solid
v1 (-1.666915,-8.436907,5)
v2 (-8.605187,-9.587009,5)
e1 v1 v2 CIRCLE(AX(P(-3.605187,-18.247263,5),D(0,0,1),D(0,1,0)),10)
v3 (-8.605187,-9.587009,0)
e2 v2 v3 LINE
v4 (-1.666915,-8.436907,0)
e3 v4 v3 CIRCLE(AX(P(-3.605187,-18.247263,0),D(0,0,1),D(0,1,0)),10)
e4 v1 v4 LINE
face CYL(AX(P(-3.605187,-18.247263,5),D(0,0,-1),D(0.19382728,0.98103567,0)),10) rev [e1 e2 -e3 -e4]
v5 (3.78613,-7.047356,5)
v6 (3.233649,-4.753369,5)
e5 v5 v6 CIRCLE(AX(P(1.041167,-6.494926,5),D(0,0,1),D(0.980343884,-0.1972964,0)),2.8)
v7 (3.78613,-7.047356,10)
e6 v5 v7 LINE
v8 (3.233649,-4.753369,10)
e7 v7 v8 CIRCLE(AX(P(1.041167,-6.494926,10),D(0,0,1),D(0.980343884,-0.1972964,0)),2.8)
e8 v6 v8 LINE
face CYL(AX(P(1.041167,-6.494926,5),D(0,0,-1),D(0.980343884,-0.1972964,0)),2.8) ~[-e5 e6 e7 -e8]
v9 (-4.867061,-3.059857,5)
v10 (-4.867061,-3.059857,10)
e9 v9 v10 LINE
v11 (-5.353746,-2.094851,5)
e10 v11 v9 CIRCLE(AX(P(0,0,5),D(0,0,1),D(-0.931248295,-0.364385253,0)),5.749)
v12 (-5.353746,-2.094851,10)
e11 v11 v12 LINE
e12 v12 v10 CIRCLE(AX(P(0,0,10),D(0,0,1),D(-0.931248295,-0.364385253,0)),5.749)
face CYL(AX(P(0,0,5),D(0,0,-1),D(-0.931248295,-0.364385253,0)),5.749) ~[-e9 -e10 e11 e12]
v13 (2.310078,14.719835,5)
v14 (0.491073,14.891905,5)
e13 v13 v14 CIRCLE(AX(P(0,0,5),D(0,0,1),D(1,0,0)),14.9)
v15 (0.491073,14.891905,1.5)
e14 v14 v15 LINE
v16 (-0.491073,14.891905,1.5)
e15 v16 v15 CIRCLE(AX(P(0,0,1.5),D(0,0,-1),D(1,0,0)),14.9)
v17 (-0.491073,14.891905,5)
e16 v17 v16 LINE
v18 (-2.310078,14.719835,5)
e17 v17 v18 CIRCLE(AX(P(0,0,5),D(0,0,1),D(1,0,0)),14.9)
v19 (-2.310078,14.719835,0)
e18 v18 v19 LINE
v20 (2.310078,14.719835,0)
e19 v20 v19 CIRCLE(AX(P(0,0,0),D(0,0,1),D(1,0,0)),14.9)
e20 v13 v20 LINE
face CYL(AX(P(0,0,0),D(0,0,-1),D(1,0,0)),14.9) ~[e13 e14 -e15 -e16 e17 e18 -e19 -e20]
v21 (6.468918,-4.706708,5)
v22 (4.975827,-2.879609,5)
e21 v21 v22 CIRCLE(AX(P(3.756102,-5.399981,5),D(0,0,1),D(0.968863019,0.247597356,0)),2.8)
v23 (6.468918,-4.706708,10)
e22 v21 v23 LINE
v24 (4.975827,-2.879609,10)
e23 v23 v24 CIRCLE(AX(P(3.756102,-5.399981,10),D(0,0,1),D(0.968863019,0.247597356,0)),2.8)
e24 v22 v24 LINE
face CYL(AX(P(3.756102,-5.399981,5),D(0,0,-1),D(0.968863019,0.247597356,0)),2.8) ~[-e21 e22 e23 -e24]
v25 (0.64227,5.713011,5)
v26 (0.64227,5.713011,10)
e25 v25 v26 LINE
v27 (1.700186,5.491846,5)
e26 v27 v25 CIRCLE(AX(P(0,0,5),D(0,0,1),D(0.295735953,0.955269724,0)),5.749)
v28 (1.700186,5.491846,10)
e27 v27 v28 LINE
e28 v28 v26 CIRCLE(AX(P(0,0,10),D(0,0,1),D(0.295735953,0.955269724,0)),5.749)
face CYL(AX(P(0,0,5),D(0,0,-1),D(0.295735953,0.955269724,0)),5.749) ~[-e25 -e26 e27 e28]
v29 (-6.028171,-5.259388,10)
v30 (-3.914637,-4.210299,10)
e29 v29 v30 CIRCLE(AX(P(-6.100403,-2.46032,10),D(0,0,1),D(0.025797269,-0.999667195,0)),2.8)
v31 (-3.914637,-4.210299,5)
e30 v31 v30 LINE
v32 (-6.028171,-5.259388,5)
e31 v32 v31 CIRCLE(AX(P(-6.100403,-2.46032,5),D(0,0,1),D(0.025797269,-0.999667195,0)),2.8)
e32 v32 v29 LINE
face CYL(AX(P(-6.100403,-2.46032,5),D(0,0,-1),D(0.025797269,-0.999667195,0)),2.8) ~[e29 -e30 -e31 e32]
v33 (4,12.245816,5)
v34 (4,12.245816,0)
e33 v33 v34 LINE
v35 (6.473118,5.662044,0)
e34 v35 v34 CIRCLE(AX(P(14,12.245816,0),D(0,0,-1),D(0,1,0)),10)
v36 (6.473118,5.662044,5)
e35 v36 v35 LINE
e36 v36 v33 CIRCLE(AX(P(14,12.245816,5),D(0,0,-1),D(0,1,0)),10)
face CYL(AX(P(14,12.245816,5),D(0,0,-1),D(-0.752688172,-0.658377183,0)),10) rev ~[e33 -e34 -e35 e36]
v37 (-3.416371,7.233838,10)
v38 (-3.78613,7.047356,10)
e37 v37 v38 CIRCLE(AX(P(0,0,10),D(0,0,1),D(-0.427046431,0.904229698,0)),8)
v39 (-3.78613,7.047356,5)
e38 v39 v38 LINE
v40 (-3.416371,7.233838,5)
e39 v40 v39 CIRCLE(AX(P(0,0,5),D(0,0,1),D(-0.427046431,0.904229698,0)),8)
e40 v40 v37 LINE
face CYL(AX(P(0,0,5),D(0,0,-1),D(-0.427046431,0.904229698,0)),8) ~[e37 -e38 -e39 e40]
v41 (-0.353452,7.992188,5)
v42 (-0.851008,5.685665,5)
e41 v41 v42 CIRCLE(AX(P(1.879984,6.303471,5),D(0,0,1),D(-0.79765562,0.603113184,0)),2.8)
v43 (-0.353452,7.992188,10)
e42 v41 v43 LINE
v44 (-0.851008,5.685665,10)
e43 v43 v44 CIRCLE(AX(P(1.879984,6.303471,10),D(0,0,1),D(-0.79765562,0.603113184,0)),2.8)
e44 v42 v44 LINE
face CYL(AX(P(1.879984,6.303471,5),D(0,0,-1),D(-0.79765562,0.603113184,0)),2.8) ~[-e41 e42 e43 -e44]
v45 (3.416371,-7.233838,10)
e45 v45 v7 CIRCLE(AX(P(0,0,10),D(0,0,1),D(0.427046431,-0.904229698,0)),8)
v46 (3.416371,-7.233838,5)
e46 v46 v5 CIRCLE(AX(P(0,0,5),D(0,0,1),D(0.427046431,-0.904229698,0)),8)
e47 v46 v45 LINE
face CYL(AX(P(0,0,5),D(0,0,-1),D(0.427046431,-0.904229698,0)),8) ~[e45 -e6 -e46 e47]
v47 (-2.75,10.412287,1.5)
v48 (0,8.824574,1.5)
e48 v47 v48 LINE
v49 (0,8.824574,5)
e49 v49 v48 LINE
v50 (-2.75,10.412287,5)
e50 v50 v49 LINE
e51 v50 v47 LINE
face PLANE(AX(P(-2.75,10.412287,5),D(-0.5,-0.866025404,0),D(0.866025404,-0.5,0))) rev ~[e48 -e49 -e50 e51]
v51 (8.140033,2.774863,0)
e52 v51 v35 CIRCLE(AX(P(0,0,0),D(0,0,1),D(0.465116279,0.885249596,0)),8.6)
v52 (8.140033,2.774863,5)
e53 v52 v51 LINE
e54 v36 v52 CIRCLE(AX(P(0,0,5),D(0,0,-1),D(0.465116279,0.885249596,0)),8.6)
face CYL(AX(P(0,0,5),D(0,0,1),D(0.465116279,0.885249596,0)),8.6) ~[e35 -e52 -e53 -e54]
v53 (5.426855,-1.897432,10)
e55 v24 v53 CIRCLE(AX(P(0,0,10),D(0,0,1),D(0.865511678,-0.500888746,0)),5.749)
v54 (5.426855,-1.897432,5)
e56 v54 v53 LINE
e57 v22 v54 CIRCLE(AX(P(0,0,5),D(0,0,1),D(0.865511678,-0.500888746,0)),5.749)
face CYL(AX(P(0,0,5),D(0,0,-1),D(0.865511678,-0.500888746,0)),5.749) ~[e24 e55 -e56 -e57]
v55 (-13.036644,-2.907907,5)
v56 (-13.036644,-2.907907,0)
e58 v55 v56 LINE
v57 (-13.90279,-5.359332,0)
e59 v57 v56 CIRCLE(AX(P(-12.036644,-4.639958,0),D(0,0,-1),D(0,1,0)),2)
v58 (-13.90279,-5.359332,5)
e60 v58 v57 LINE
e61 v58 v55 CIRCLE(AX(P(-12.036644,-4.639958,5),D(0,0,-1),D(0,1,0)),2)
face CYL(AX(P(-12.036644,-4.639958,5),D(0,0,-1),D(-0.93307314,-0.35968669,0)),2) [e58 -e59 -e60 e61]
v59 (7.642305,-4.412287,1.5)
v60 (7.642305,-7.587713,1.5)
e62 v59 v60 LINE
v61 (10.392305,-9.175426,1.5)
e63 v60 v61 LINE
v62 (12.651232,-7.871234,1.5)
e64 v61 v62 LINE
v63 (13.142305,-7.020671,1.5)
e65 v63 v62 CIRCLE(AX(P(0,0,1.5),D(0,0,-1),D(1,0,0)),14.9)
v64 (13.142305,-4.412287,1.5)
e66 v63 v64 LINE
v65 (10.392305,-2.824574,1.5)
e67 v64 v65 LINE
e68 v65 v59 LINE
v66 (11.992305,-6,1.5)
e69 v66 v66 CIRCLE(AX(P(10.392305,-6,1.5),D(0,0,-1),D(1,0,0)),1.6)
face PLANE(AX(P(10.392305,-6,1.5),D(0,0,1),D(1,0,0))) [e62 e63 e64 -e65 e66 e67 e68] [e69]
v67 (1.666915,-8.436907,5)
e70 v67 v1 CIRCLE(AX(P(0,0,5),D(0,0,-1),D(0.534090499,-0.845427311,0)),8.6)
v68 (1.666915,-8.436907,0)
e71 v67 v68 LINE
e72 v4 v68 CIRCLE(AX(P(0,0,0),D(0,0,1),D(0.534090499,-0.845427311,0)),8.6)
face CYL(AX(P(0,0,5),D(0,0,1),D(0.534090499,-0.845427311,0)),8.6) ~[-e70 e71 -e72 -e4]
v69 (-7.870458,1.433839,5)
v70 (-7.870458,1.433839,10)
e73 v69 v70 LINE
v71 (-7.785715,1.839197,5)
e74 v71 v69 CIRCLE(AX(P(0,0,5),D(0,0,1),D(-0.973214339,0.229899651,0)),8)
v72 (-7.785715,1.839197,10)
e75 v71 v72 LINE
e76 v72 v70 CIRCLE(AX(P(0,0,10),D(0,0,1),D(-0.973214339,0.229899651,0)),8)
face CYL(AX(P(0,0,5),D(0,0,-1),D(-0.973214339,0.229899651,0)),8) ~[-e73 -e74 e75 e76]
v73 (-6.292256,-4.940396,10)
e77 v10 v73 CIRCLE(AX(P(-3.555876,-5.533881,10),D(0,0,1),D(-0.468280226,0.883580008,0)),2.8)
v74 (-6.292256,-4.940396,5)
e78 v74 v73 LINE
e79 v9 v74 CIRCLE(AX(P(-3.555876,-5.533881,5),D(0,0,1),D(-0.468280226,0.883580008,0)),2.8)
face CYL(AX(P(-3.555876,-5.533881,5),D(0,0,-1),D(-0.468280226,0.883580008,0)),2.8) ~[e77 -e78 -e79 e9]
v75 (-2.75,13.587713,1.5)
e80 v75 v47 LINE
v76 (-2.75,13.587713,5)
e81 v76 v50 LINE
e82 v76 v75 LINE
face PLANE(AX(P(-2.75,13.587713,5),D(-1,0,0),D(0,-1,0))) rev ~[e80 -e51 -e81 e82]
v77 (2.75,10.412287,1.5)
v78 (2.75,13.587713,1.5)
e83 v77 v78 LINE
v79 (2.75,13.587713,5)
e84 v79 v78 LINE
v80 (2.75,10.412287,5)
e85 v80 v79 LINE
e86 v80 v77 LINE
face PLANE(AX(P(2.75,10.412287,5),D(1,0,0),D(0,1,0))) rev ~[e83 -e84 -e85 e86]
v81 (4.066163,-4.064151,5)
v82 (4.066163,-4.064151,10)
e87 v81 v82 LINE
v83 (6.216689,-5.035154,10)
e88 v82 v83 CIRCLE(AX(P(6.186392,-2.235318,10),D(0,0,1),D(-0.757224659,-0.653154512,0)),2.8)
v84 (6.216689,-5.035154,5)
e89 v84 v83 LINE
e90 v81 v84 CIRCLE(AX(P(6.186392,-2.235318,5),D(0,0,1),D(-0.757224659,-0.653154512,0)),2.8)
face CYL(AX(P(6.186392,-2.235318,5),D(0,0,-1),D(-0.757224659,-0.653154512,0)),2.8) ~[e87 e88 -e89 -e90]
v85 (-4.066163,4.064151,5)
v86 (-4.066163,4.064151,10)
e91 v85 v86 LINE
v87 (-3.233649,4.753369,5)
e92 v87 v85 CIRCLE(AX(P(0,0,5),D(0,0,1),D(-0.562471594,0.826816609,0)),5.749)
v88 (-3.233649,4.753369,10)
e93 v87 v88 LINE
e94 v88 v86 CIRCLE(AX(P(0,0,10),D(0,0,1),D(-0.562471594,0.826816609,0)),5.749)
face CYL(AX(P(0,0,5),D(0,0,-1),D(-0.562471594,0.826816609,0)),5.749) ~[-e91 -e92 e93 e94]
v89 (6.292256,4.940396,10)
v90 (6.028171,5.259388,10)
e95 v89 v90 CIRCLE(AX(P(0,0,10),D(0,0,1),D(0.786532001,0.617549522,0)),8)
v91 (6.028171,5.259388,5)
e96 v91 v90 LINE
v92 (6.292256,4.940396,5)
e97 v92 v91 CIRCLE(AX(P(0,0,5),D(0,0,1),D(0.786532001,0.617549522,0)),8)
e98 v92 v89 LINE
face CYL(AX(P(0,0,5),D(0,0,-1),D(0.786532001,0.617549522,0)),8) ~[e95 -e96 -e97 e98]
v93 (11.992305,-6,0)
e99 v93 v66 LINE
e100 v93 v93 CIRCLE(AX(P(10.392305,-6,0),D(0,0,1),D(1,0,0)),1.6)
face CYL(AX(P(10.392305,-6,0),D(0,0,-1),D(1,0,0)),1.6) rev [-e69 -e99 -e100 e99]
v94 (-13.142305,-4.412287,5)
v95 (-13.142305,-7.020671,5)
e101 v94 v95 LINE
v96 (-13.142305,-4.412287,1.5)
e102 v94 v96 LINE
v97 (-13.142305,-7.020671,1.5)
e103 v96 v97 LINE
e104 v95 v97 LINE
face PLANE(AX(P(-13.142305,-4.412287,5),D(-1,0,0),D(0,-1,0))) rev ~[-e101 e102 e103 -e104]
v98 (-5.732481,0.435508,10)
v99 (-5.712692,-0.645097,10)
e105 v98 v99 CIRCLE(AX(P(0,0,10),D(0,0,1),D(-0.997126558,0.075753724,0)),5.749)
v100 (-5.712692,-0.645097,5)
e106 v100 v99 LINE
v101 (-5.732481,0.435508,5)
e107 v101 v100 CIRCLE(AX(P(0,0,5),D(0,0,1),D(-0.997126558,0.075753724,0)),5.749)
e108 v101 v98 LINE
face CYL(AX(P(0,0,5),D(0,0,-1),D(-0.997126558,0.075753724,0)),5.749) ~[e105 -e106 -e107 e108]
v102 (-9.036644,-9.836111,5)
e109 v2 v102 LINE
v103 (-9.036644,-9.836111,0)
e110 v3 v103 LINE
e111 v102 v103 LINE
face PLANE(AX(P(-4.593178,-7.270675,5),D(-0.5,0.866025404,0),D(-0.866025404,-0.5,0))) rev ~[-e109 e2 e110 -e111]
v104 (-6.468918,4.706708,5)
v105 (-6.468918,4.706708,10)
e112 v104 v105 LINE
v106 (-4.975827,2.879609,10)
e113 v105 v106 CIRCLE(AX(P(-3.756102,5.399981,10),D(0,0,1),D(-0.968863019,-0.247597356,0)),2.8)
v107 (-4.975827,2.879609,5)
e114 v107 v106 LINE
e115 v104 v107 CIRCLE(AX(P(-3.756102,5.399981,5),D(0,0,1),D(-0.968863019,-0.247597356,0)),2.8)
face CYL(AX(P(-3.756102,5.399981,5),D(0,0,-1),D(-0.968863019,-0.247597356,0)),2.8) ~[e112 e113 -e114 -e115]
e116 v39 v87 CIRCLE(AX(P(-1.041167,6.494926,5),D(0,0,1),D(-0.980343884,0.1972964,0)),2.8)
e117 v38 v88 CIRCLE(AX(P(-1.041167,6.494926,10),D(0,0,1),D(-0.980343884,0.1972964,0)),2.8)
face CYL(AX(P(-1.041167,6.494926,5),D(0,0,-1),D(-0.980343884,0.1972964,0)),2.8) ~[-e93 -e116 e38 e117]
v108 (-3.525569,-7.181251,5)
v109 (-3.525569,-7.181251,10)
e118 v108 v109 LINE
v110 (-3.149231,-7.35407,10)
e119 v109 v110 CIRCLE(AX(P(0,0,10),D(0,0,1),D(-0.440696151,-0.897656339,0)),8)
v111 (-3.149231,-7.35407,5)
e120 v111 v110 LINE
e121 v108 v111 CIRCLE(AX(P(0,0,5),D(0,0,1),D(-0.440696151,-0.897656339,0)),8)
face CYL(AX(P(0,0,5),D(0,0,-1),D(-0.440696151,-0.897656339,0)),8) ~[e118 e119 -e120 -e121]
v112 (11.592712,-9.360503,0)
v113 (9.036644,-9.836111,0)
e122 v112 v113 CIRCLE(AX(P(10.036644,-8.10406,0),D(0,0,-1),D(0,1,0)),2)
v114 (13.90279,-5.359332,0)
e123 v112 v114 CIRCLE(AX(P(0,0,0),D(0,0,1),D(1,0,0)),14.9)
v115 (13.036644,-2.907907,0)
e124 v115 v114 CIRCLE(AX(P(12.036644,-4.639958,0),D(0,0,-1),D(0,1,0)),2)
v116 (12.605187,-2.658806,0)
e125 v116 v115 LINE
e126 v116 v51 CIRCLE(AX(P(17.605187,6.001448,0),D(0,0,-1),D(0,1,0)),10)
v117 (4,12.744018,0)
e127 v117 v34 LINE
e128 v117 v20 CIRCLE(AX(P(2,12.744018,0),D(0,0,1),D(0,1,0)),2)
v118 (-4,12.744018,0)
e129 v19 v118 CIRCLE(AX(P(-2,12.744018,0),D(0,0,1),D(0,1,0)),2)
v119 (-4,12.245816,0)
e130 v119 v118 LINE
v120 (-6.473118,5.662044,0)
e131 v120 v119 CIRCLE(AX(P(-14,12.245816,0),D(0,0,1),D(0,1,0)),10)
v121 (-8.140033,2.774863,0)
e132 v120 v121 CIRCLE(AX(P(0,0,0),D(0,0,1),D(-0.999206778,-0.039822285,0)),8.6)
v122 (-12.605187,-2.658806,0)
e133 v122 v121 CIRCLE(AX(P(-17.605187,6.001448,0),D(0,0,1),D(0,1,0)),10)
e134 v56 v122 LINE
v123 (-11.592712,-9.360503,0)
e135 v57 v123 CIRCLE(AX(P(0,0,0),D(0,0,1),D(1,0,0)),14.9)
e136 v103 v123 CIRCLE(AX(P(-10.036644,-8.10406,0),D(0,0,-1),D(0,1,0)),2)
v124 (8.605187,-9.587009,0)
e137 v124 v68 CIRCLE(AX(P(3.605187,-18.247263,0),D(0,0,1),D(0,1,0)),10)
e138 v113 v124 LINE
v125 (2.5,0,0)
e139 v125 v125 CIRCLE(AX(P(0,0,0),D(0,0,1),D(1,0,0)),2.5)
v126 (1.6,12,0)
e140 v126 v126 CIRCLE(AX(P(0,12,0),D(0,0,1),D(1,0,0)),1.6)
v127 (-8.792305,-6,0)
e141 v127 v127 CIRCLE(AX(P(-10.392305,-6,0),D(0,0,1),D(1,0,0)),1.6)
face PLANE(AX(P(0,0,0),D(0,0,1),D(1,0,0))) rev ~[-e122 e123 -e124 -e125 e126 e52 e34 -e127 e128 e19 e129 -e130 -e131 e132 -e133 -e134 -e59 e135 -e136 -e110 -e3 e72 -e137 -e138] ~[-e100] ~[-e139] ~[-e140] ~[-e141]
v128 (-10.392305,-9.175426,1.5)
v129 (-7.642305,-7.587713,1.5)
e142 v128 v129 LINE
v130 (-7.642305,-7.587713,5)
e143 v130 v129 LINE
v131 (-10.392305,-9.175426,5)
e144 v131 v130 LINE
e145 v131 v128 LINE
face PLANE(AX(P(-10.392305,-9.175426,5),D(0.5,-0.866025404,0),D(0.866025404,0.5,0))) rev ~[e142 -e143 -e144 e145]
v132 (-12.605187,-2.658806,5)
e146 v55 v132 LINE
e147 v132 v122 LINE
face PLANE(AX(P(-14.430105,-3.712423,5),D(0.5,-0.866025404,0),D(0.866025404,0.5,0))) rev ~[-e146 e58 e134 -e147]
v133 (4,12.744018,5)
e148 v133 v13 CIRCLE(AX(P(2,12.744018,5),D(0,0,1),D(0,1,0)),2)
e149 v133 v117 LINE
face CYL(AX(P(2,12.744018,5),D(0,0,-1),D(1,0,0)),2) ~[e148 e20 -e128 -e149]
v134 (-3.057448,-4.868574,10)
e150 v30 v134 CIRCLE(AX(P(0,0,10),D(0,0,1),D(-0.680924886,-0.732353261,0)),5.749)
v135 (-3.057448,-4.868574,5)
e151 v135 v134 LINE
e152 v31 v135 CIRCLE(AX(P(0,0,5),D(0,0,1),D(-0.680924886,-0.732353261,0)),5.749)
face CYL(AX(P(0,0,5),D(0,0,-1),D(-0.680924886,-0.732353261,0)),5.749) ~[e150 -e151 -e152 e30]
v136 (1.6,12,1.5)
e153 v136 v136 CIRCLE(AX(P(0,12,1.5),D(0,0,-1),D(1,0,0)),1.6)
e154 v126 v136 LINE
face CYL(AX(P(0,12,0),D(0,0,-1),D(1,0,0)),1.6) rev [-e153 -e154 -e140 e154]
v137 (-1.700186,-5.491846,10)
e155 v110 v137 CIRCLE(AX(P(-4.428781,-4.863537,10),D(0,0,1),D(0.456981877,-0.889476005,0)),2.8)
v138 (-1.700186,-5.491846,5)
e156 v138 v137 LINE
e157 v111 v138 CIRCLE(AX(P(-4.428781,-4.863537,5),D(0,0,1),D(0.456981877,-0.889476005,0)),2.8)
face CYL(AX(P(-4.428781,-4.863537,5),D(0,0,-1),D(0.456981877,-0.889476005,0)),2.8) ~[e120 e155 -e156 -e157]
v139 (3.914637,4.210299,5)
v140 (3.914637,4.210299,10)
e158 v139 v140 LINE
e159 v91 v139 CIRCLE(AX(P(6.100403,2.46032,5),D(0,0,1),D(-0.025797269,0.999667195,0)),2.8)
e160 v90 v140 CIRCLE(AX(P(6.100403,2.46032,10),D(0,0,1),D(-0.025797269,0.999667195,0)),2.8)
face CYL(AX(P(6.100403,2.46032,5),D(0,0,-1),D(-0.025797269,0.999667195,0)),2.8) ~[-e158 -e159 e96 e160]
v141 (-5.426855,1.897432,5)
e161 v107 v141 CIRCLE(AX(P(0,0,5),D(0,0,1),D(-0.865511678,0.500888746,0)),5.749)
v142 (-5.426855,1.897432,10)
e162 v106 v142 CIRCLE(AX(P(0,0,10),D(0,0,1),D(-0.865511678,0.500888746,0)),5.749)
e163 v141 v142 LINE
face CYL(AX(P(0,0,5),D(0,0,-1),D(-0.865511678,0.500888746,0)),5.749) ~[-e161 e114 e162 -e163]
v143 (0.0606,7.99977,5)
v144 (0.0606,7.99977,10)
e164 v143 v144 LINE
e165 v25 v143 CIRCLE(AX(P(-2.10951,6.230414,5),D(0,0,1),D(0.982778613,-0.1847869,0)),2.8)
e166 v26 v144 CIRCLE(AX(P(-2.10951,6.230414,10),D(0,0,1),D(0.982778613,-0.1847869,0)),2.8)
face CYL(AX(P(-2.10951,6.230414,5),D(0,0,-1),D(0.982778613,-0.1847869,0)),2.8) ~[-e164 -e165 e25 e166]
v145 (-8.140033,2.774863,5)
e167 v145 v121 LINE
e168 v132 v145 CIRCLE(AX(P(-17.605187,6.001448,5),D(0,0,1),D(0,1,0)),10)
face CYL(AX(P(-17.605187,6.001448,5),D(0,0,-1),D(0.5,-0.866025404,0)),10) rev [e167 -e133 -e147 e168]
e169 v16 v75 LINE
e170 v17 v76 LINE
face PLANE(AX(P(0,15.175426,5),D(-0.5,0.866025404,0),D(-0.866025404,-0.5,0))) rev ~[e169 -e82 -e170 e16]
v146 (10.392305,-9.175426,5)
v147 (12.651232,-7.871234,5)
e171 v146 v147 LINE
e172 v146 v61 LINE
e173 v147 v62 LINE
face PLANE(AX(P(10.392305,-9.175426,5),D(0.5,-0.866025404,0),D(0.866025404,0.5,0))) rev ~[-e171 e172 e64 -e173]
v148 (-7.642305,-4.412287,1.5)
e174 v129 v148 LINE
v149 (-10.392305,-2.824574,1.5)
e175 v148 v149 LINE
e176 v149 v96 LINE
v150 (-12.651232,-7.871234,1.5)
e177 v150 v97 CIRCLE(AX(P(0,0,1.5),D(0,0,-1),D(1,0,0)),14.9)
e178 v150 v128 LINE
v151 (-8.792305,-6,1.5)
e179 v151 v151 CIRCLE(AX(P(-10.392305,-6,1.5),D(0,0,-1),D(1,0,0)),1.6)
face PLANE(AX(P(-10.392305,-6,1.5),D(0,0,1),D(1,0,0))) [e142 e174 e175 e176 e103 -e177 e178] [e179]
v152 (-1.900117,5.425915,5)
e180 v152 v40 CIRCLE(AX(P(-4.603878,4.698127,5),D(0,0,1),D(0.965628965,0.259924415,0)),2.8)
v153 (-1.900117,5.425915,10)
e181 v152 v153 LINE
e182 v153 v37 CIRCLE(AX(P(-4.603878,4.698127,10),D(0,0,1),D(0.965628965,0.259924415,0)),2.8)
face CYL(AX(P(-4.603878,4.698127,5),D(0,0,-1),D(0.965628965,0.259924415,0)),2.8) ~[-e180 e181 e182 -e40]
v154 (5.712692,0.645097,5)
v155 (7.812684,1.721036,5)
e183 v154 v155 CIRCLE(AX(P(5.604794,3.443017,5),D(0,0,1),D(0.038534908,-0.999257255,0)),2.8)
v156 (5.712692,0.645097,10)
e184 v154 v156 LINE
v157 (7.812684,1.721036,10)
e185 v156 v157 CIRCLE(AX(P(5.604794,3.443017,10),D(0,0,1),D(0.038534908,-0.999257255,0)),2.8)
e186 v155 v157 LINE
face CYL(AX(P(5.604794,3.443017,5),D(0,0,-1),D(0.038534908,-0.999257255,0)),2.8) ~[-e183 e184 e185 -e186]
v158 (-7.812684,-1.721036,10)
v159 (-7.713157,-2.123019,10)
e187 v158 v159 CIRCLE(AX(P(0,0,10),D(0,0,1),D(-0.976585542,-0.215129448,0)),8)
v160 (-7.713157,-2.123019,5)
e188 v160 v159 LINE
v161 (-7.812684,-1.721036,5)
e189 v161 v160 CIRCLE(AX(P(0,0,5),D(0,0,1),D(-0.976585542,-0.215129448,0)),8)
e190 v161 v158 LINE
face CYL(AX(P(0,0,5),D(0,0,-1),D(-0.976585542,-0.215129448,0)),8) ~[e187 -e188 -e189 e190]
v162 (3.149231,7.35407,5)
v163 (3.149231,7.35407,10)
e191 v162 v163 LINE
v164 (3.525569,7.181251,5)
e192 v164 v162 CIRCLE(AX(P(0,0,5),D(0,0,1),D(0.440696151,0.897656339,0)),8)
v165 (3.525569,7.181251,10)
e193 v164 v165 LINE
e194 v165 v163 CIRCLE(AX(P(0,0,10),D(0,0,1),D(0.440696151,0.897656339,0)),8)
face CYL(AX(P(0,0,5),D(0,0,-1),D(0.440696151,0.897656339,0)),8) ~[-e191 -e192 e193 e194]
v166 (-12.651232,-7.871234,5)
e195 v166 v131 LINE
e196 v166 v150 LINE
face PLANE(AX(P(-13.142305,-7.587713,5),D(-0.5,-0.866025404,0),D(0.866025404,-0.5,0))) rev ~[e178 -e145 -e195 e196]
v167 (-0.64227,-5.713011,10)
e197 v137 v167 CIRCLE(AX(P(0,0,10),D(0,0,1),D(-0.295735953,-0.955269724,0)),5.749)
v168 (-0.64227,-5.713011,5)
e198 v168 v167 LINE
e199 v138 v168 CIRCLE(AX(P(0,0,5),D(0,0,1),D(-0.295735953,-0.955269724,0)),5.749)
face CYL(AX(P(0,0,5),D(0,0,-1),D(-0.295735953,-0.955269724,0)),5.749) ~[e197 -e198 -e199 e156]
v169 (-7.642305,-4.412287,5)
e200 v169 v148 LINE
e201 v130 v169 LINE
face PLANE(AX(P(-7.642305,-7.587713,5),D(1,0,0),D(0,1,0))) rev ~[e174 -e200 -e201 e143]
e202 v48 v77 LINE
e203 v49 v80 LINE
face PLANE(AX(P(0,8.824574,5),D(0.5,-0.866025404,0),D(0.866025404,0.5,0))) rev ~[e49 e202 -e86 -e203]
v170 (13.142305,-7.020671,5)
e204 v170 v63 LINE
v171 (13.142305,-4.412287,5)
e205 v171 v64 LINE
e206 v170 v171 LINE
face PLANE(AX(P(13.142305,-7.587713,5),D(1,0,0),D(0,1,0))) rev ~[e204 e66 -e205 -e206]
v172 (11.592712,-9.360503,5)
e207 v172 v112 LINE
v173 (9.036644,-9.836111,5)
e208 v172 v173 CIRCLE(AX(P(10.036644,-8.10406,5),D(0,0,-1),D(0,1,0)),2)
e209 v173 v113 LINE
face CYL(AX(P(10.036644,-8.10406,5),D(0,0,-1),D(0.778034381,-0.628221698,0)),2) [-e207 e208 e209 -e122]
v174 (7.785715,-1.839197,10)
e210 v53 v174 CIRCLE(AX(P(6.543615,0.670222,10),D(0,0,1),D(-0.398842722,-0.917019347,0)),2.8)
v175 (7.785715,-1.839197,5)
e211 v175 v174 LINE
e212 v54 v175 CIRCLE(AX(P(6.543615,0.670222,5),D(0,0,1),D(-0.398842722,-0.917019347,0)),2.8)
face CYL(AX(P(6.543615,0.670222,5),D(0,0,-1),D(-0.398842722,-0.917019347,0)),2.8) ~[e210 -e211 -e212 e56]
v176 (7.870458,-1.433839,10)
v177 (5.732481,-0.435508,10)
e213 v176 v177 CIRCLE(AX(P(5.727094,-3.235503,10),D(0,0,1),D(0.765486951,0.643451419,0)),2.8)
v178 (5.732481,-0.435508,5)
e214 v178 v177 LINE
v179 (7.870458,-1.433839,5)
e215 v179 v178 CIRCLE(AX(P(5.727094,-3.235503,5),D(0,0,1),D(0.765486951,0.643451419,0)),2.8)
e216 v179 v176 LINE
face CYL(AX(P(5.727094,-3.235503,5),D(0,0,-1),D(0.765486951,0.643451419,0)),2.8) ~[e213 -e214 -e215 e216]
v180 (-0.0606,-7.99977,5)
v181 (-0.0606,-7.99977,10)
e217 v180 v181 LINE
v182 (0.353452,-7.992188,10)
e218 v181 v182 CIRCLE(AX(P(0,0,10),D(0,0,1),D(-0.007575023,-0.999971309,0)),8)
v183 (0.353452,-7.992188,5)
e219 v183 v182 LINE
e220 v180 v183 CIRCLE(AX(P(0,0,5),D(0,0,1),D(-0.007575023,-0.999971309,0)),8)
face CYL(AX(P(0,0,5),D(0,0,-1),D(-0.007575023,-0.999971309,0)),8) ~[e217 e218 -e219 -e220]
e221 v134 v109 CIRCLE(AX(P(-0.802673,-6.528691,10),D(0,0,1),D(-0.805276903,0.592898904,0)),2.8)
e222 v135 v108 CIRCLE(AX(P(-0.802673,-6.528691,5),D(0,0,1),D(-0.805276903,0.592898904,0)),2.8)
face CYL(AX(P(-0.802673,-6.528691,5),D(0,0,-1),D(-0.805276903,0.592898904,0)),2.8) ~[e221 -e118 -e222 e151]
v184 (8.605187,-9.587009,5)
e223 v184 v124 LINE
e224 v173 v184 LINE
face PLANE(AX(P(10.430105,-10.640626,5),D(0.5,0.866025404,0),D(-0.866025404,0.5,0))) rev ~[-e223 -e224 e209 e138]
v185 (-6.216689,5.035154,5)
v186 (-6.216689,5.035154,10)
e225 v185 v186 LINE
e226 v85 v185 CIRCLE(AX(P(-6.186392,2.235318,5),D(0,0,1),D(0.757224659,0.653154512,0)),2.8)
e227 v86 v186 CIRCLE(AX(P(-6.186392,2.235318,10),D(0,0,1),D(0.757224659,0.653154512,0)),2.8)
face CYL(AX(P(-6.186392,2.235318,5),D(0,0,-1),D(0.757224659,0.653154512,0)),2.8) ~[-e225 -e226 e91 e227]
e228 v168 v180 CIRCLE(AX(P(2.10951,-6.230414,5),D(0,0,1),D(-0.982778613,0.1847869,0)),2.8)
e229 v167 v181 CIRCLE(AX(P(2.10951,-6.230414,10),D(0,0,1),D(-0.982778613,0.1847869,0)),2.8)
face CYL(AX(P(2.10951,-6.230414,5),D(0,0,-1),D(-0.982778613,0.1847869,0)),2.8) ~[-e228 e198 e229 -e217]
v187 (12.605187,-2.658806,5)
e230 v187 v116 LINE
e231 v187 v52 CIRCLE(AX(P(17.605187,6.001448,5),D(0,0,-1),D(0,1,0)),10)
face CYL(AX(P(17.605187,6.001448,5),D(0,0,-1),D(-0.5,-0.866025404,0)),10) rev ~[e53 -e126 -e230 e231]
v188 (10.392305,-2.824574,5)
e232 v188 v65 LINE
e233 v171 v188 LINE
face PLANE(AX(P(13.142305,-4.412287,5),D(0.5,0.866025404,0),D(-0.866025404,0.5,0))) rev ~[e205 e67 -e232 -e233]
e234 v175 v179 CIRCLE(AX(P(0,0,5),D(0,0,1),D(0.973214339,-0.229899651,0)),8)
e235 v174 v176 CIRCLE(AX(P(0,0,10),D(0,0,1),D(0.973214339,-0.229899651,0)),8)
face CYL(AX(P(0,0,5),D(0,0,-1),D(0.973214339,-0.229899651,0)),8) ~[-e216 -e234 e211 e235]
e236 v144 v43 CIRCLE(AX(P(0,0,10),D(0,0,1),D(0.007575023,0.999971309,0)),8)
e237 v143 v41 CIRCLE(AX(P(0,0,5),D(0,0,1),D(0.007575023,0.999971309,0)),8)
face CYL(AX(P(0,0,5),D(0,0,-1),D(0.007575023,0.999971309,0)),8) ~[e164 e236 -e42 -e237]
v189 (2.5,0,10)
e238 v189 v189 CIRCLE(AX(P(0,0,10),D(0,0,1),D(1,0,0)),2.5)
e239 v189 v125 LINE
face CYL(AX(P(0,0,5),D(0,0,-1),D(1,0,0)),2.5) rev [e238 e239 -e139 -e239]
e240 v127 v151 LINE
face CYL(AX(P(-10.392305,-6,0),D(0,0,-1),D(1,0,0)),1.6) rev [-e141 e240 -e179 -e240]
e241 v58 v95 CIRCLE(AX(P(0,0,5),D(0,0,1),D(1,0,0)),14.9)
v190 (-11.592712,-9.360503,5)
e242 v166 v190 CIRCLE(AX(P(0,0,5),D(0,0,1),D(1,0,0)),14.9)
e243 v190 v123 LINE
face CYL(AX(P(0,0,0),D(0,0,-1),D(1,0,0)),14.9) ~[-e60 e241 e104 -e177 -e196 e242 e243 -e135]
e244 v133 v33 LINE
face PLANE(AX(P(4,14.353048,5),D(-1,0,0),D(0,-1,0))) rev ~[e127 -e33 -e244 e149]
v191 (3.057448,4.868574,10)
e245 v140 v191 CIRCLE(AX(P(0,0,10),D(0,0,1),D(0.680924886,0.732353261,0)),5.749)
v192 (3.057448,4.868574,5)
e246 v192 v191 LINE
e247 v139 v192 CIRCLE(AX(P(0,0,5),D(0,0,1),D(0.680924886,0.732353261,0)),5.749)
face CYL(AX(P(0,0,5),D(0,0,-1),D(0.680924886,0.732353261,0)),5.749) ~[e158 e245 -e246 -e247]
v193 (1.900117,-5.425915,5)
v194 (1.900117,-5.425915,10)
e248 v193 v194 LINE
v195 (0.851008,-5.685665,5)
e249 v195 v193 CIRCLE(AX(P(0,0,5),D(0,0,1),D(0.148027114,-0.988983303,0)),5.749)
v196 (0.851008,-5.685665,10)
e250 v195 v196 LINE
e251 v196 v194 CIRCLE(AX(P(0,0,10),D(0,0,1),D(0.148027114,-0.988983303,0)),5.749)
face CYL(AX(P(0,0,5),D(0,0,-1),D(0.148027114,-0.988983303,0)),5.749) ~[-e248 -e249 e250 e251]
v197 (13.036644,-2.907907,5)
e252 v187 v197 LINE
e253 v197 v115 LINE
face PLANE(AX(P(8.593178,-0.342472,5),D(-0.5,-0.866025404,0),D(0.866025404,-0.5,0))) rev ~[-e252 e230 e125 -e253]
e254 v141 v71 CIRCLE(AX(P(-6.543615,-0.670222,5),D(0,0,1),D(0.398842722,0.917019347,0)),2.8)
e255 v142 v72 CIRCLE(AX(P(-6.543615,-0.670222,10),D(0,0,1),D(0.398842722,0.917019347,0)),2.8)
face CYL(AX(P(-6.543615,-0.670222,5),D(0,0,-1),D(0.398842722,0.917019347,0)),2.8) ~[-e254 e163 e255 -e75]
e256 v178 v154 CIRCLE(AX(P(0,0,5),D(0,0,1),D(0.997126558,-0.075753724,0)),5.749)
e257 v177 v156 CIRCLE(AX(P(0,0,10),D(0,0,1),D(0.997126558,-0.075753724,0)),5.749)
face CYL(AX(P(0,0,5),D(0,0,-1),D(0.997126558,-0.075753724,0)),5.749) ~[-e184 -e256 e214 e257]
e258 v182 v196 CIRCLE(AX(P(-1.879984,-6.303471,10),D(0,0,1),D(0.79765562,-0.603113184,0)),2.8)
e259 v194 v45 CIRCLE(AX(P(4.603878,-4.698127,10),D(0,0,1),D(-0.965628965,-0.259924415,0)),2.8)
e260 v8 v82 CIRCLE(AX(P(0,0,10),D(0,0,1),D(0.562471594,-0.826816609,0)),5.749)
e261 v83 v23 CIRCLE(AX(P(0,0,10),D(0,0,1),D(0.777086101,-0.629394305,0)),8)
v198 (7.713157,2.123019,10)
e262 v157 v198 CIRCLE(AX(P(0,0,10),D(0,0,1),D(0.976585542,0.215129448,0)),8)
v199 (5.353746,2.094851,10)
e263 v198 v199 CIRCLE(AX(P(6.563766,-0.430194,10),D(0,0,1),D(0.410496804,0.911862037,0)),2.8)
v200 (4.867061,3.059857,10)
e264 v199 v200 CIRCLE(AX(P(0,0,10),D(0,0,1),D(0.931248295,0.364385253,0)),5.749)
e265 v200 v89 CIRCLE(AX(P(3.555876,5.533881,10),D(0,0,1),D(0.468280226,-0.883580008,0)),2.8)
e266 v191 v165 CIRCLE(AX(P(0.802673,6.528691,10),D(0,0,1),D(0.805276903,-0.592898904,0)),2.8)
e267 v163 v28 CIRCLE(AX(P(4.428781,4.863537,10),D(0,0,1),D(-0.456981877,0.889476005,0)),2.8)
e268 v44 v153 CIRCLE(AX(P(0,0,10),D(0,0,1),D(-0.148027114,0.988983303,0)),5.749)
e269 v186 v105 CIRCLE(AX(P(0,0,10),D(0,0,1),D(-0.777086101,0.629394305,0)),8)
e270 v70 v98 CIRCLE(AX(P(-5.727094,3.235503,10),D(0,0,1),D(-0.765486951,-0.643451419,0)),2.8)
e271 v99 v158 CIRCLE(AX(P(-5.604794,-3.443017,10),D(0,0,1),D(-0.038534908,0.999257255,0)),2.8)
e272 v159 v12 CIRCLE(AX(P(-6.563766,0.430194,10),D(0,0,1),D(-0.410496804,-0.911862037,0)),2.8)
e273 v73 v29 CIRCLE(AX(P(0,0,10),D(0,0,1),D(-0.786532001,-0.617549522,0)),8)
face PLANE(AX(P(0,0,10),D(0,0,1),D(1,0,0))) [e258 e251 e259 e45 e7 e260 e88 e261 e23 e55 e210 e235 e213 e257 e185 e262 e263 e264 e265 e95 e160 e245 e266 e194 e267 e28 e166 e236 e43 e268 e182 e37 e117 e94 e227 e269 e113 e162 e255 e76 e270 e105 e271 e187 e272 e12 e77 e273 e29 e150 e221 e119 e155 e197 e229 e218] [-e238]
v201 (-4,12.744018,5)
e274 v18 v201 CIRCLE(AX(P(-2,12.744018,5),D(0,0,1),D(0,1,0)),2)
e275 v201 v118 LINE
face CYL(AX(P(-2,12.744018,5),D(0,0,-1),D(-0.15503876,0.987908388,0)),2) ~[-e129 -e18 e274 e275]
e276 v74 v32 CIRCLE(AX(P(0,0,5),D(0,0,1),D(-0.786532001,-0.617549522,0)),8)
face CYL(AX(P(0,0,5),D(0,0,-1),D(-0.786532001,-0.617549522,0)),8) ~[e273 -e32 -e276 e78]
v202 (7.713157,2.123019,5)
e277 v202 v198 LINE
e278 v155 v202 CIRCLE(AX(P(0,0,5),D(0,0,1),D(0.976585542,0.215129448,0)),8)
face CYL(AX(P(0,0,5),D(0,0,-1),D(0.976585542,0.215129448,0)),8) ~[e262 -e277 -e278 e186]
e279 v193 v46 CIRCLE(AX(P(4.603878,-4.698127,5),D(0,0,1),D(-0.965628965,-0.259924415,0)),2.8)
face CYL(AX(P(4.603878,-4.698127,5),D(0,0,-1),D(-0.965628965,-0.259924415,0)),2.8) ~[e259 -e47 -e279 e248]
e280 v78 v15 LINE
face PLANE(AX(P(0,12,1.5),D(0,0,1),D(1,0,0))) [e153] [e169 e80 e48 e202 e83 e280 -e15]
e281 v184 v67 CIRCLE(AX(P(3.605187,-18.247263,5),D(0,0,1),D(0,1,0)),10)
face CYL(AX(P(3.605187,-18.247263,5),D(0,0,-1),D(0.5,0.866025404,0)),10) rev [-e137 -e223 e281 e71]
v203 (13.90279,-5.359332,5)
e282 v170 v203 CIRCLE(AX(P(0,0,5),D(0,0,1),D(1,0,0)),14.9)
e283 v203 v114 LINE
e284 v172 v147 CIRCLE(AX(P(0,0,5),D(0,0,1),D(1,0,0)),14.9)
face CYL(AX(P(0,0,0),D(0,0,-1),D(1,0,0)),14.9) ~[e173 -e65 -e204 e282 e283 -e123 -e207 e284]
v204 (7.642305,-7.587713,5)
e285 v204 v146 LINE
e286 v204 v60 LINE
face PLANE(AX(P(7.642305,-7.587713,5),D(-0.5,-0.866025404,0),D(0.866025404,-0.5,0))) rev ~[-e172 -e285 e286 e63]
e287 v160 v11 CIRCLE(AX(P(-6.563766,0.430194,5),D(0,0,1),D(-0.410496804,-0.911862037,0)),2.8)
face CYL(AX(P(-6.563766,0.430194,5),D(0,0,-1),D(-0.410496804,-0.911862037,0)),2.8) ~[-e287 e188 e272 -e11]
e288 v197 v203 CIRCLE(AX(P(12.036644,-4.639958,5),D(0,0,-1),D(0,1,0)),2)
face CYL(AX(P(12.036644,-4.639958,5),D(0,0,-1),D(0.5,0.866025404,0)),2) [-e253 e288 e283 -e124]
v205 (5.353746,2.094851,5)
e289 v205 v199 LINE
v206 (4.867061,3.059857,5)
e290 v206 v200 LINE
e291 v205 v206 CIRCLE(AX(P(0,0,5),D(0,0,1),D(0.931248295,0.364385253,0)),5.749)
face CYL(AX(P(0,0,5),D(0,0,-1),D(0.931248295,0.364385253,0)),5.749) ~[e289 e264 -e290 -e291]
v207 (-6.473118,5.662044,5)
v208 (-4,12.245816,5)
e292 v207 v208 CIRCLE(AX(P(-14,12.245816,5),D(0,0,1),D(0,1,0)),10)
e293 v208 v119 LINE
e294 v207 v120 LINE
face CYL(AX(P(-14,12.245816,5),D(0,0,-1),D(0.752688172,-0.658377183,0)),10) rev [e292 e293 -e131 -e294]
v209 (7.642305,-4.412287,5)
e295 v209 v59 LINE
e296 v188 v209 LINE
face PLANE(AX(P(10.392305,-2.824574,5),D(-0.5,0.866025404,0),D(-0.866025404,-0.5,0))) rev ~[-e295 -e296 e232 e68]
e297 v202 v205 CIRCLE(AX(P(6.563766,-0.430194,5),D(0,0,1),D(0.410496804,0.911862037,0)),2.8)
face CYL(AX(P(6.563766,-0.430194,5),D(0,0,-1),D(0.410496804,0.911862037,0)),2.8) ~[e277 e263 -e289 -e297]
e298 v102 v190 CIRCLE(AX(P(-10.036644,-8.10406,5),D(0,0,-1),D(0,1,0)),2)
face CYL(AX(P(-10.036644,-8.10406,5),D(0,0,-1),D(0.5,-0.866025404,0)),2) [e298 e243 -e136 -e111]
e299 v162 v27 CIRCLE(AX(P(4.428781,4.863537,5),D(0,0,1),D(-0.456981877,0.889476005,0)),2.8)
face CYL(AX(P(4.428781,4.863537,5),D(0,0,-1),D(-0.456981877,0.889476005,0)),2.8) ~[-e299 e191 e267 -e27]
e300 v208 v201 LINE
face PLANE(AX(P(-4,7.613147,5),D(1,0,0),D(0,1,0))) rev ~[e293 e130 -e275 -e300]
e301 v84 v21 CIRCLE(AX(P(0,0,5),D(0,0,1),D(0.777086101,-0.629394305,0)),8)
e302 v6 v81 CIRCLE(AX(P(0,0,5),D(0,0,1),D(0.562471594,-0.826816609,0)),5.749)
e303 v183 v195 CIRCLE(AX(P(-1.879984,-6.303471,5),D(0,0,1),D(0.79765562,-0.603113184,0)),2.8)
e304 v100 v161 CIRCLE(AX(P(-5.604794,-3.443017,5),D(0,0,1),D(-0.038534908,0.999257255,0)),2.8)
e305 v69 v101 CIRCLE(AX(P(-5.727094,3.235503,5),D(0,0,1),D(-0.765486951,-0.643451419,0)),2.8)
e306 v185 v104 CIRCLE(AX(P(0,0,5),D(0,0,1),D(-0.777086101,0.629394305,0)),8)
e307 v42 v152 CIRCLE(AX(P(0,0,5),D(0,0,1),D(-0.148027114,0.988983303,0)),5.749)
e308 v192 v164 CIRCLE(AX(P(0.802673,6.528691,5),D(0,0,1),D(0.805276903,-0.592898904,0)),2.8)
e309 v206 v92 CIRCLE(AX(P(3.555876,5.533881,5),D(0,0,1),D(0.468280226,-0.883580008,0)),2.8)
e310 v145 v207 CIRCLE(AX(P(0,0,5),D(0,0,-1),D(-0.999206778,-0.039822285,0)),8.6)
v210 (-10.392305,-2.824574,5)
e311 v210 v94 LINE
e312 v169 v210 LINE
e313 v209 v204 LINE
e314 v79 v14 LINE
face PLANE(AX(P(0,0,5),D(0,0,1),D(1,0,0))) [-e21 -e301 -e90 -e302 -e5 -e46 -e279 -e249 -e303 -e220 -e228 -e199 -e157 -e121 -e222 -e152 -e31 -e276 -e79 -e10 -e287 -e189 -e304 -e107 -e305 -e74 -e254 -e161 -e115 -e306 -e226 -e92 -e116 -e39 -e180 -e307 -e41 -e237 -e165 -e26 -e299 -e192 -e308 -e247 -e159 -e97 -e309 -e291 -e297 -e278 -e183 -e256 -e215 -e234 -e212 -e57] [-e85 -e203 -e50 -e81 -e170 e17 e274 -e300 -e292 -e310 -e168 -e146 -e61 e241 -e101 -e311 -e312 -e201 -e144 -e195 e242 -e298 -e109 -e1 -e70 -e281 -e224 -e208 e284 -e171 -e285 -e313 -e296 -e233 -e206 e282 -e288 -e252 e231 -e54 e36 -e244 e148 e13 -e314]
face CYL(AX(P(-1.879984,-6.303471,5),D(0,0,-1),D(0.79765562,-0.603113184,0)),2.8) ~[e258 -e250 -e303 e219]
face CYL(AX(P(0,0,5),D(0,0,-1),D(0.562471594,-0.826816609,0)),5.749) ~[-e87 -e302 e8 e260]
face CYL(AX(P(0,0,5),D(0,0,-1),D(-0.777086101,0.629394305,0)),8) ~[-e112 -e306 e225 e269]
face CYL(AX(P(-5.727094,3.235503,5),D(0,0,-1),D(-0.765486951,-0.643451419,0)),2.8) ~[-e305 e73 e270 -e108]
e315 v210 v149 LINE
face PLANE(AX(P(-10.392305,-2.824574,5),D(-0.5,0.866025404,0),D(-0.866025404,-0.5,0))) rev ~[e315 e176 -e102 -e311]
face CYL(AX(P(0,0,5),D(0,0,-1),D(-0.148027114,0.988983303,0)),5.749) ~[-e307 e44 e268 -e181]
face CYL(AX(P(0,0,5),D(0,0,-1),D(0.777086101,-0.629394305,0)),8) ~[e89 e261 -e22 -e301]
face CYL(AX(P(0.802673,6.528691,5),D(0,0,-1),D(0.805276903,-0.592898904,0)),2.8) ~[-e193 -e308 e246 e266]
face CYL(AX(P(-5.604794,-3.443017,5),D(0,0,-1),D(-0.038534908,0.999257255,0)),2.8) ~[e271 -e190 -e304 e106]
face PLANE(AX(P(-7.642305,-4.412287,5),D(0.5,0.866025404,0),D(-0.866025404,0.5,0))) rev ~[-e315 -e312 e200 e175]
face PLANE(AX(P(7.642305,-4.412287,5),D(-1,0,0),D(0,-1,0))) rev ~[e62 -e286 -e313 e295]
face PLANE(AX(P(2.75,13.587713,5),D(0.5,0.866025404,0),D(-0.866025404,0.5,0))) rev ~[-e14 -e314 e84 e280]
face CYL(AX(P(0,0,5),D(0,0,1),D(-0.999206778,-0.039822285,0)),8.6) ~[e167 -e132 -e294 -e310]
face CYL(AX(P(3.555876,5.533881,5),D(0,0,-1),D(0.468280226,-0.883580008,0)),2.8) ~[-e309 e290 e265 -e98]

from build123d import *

# Parameters (mm, degrees)
SKETCH1_R           = 14.9
SKETCH1_R_2         = 1.6000000000000003
SKETCH1_R_3         = 1.6000000000006653
SKETCH1_R_4         = 1.6000000000009684
SKETCH1_R_5         = 2.5
BOSS_EXTRUDE1_DEPTH = 5
CUT_EXTRUDE1_DEPTH  = 3.5
CUT_EXTRUDE2_DEPTH  = 22.656869579881576
FILLET1_R           = 10
FILLET2_R           = 2
SKETCH6_R           = 2.4999999999999956
BOSS_EXTRUDE2_DEPTH = 5


with BuildPart() as part:
    # Sketch1 → Boss-Extrude1 (new body)
    with BuildSketch(Plane.XY):
        Circle(SKETCH1_R)
        with Locations((0, 12)):
            Circle(SKETCH1_R_2, mode=Mode.SUBTRACT)
        with Locations((10.392304845414033, -5.99999999999955)):
            Circle(SKETCH1_R_3, mode=Mode.SUBTRACT)
        with Locations((-10.3923048454125, -6.000000000000447)):
            Circle(SKETCH1_R_4, mode=Mode.SUBTRACT)
        Circle(SKETCH1_R_5, mode=Mode.SUBTRACT)
    extrude(amount=BOSS_EXTRUDE1_DEPTH)

    # Sketch2 → Cut-Extrude1 (cut)
    with BuildSketch(Plane.XY.offset(5)):
        Polygon((13.142304845413232, -7.5877132402708165), (13.142304845413246, -4.412286759728591), (10.392304845413825, -2.824573519457418), (7.642304845414409, -4.41228675972855), (7.64230484541441, -7.587713240270817), (10.39230484541382, -9.17542648054195), align=None)
        Polygon((1.342e-14, 15.175426480542264), (-2.749999999999405, 13.58771324027113), (-2.7499999999994076, 10.412286759728874), (9e-15, 8.824573519457736), (2.7499999999994245, 10.41228675972887), (2.7499999999994267, 13.58771324027113), align=None)
        Polygon((-13.14230484541212, -7.587713240271449), (-10.3923048454127, -9.175426480542583), (-7.642304845413332, -7.587713240271399), (-7.642304845413293, -4.412286759729188), (-10.392304845412706, -2.8245735194580552), (-13.142304845412118, -4.4122867597291835), align=None)
    extrude(amount=-CUT_EXTRUDE1_DEPTH, mode=Mode.SUBTRACT)

    # Sketch5 → Cut-Extrude2 (cut, through all)
    with BuildSketch(Plane.XY.offset(5)):
        with BuildLine():
            Line((4, 14.353048456686821), (4, 7.613146524269713))
            ThreePointArc((4, 7.613146524269714), (7.360706487831178, 4.447471191587419), (8.600000000000001, 0))
            ThreePointArc((8.600000000000001, 0), (8.598294404056443, -0.17126979059858147), (8.593178292750771, -0.3424716469971399))
            Line((8.593178292750771, -0.3424716469971399), (14.430104585239802, -3.712422613205722))
            ThreePointArc((14.430104585239803, -3.712422613205722), (12.903778516388154, 7.44999999999997), (4.000000000000001, 14.353048456686825))
        make_face()
        with BuildLine():
            Line((-14.43010458523985, -3.712422613205522), (-8.593178292750776, -0.3424716469970228))
            ThreePointArc((-8.593178292750778, -0.3424716469970228), (-7.447818472546155, 4.300000000000037), (-4.000000000000002, 7.613146524269715))
            Line((-4, 7.613146524269713), (-4, 14.353048456686821))
            ThreePointArc((-3.9999999999999996, 14.35304845668682), (-12.903778516388101, 7.450000000000059), (-14.43010458523985, -3.712422613205523))
        make_face()
        with BuildLine():
            ThreePointArc((4.593178292750738, -7.270674877272635), (-6.195e-14, -8.6), (-4.593178292750841, -7.270674877272569))
            Line((-4.59317829275084, -7.270674877272568), (-10.43010458523992, -10.640625843481063))
            ThreePointArc((-10.430104585239919, -10.640625843481068), (-1.0303e-13, -14.899999999999999), (10.430104585239771, -10.640625843481217))
            Line((10.430104585239768, -10.640625843481212), (4.593178292750737, -7.270674877272635))
        make_face()
    extrude(amount=-CUT_EXTRUDE2_DEPTH, mode=Mode.SUBTRACT)

    # Fillet1
    fillet1_edges = [part.edges().sort_by_distance(p)[0] for p in [
        (4.593178292750738, -7.270674877272635, 2.5),
        (-4.593178292750841, -7.270674877272569, 2.5),
        (-4.000000000000001, 7.613146524269714, 2.5),
        (-8.593178292750778, -0.3424716469970228, 2.5),
        (4.000000000000001, 7.613146524269715, 2.5),
        (8.593178292750771, -0.3424716469971399, 2.5),
    ]]
    fillet(fillet1_edges, radius=FILLET1_R)

    # Fillet2
    fillet2_edges = [part.edges().sort_by_distance(p)[0] for p in [
        (10.430104585239771, -10.640625843481214, 2.5),
        (-10.43010458523992, -10.640625843481068, 2.5),
        (-14.43010458523985, -3.7124226132055225, 2.5),
        (-4, 14.353048456686821, 2.5),
        (4, 14.353048456686823, 2.5),
        (14.430104585239803, -3.712422613205722, 2.5),
    ]]
    fillet(fillet2_edges, radius=FILLET2_R)

    # Sketch6 → Boss-Extrude2 (add)
    with BuildSketch(Plane.XY.offset(5)):
        with BuildLine():
            ThreePointArc((6.02817063707193, 5.259387680171888), (4.855499076696584, 4.968349486507053), (3.914637171074405, 4.2102988989907315))
            ThreePointArc((3.914637171074405, 4.2102988989907315), (3.5015459862118337, 4.559624623414058), (3.0574479574494795, 4.868574019924936))
            ThreePointArc((3.0574479574494795, 4.868574019924936), (3.547016405974829, 5.9731936616538555), (3.5255692044436264, 7.181250711726956))
            ThreePointArc((3.5255692044436264, 7.181250711726956), (3.3385186822805317, 7.270095804600103), (3.1492312822635022, 7.354069780115842))
            ThreePointArc((3.1492312822635022, 7.354069780115842), (2.2189674537840838, 6.583050306880795), (1.7001859911750001, 5.491845645628829))
            ThreePointArc((1.7001859911750001, 5.491845645628829), (1.1764369425261552, 5.627343700207033), (0.6422703249581851, 5.713010574966424))
            ThreePointArc((0.6422703249581851, 5.713010574966424), (0.6040797553307691, 6.9206542720378605), (0.06060018449448659, 7.999770472809791))
            ThreePointArc((0.06060018449448659, 7.999770472809791), (-0.1464749537974085, 7.998658955594381), (-0.3534519507842858, 7.992188168360838))
            ThreePointArc((-0.3534519507842858, 7.992188168360838), (-0.8570578872002823, 6.893897278163069), (-0.8510078756894319, 5.685665009083339))
            ThreePointArc((-0.8510078756894319, 5.685665009083339), (-1.3816798656790947, 5.580498342332617), (-1.9001168223196914, 5.425915320159152))
            ThreePointArc((-1.9001168223196914, 5.425915320159152), (-2.4585022994085572, 6.497394427590124), (-3.4163714452062757, 7.233837581006314))
            ThreePointArc((-3.4163714452062757, 7.233837581006314), (-3.6024574288783424, 7.14298960331872), (-3.7861296901755246, 7.047355672106486))
            ThreePointArc((-3.7861296901755246, 7.047355672106486), (-3.7633324024994224, 5.8393233454034945), (-3.233649195846893, 4.753368687383592))
            ThreePointArc((-3.233649195846893, 4.753368687383592), (-3.6661380312950715, 4.428366847438451), (-4.066162529533613, 4.064150991709943))
            ThreePointArc((-4.066162529533613, 4.064150991709943), (-5.034147822198015, 4.787245931444861), (-6.216688811137787, 5.035154439088672))
            ThreePointArc((-6.216688811137787, 5.035154439088672), (-6.344929028928957, 4.8725635570872505), (-6.468918010594077, 4.7067079548461095))
            ThreePointArc((-6.468918010594077, 4.7067079548461095), (-5.9242327812405176, 3.628199809485637), (-4.975826634662063, 2.879609400906265))
            ThreePointArc((-4.975826634662063, 2.879609400906265), (-5.224472597580759, 2.3991429880538346), (-5.426854879562582, 1.897431715811644))
            ThreePointArc((-5.426854879562582, 1.897431715811644), (-6.61271862902979, 2.1289246668585444), (-7.785714715338611, 1.8391972083928103))
            ThreePointArc((-7.785714715338611, 1.8391972083928103), (-7.83070961935227, 1.637066540304308), (-7.8704577829414815, 1.4338390031436454))
            ThreePointArc((-7.8704577829414815, 1.4338390031436454), (-6.911766201709898, 0.6984668043486959), (-5.7324805839734525, 0.43550815648784985))
            ThreePointArc((-5.7324805839734525, 0.43550815648784985), (-5.748036291964011, -0.1052605636725878), (-5.712692064686818, -0.6450971818759339))
            ThreePointArc((-5.712692064686818, -0.6450971818759339), (-6.881559411710404, -0.9510562375466041), (-7.812684334641904, -1.7210355856986488))
            ThreePointArc((-7.812684334641904, -1.7210355856986488), (-7.765522132311889, -1.9226715820894416), (-7.713156866547124, -2.1230193480128765))
            ThreePointArc((-7.713156866547124, -2.1230193480128765), (-6.530339558681069, -2.3696061175227916), (-5.353746449368295, -2.0948508194800826))
            ThreePointArc((-5.353746449368295, -2.0948508194800826), (-5.1331309036849415, -2.5888159698276345), (-4.867060524829484, -3.059856671095323))
            ThreePointArc((-4.867060524829484, -3.059856671095323), (-5.78742295611416, -3.842668790166433), (-6.292256005183971, -4.940396174926289))
            ThreePointArc((-6.292256005183971, -4.940396174926289), (-6.162277749088176, -5.101601017630917), (-6.028170637071975, -5.259387680171835))
            ThreePointArc((-6.028170637071975, -5.259387680171835), (-4.855499076696629, -4.968349486507008), (-3.9146371710744448, -4.210298898990695))
            ThreePointArc((-3.9146371710744448, -4.210298898990695), (-3.5015459862118763, -4.559624623414024), (-3.0574479574495212, -4.868574019924903))
            ThreePointArc((-3.0574479574495212, -4.868574019924903), (-3.5470164059748766, -5.973193661653813), (-3.525569204443685, -7.1812507117269115))
            ThreePointArc((-3.525569204443685, -7.1812507117269115), (-3.338518682280587, -7.2700958046000626), (-3.1492312822635578, -7.35406978011581))
            ThreePointArc((-3.1492312822635578, -7.35406978011581), (-2.218967453784133, -6.583050306880769), (-1.700185991175043, -5.491845645628806))
            ThreePointArc((-1.700185991175043, -5.491845645628806), (-1.176436942526202, -5.627343700207011), (-0.6422703249582338, -5.713010574966406))
            ThreePointArc((-0.6422703249582338, -5.713010574966406), (-0.6040797553308295, -6.920654272037842), (-0.06060018449455164, -7.999770472809773))
            ThreePointArc((-0.06060018449455164, -7.999770472809773), (0.14647495379734404, -7.998658955594365), (0.35345195078422115, -7.9921881683608245))
            ThreePointArc((0.35345195078422115, -7.9921881683608245), (0.8570578872002264, -6.893897278163062), (0.8510078756893855, -5.6856650090833325))
            ThreePointArc((0.8510078756893855, -5.6856650090833325), (1.3816798656790477, -5.580498342332614), (1.900116822319644, -5.425915320159157))
            ThreePointArc((1.900116822319644, -5.425915320159157), (2.458502299408505, -6.497394427590132), (3.416371445206218, -7.23383758100633))
            ThreePointArc((3.416371445206218, -7.23383758100633), (3.6024574288782856, -7.142989603318738), (3.7861296901754686, -7.047355672106509))
            ThreePointArc((3.7861296901754686, -7.047355672106509), (3.7633324024993775, -5.839323345403511), (3.2336491958468514, -4.753368687383601))
            ThreePointArc((3.2336491958468514, -4.753368687383601), (3.6661380312950302, -4.428366847438464), (4.066162529533574, -4.064150991709959))
            ThreePointArc((4.066162529533574, -4.064150991709959), (5.034147822197974, -4.7872459314448825), (6.216688811137743, -5.035154439088707))
            ThreePointArc((6.216688811137743, -5.035154439088707), (6.344929028928913, -4.872563557087289), (6.468918010594035, -4.706707954846148))
            ThreePointArc((6.468918010594035, -4.706707954846148), (5.924232781240482, -3.628199809485669), (4.975826634662032, -2.8796094009062863))
            ThreePointArc((4.975826634662032, -2.8796094009062863), (5.224472597580731, -2.3991429880538595), (5.426854879562554, -1.8974317158116716))
            ThreePointArc((5.426854879562554, -1.8974317158116716), (6.6127186290297635, -2.128924666858581), (7.7857147153385915, -1.8391972083928554))
            ThreePointArc((7.7857147153385915, -1.8391972083928554), (7.830709619352263, -1.6370665403042963), (7.870457782941487, -1.433839003143578))
            ThreePointArc((7.870457782941487, -1.433839003143578), (6.911766201709897, -0.6984668043486324), (5.732480583973447, -0.435508156487793))
            ThreePointArc((5.732480583973447, -0.435508156487793), (5.748036291964002, 0.10526056367264261), (5.7126920646868085, 0.6450971818759847))
            ThreePointArc((5.7126920646868085, 0.6450971818759847), (6.881559411710389, 0.9510562375466631), (7.81268433464188, 1.7210355856987143))
            ThreePointArc((7.81268433464188, 1.7210355856987143), (7.7655221323118635, 1.9226715820895108), (7.713156866547099, 2.123019348012948))
            ThreePointArc((7.713156866547099, 2.123019348012948), (6.530339558681042, 2.3696061175228524), (5.35374644936827, 2.094850819480135))
            ThreePointArc((5.35374644936827, 2.094850819480135), (5.133130903684914, 2.5888159698276865), (4.8670605248294505, 3.059856671095373))
            ThreePointArc((4.8670605248294505, 3.059856671095373), (5.787422956114117, 3.8426687901664893), (6.29225600518392, 4.940396174926349))
            ThreePointArc((6.29225600518392, 4.940396174926349), (6.162277749088128, 5.101601017630973), (6.02817063707193, 5.259387680171888))
        make_face()
        Circle(SKETCH6_R, mode=Mode.SUBTRACT)
    extrude(amount=BOSS_EXTRUDE2_DEPTH)


solid = part.part
